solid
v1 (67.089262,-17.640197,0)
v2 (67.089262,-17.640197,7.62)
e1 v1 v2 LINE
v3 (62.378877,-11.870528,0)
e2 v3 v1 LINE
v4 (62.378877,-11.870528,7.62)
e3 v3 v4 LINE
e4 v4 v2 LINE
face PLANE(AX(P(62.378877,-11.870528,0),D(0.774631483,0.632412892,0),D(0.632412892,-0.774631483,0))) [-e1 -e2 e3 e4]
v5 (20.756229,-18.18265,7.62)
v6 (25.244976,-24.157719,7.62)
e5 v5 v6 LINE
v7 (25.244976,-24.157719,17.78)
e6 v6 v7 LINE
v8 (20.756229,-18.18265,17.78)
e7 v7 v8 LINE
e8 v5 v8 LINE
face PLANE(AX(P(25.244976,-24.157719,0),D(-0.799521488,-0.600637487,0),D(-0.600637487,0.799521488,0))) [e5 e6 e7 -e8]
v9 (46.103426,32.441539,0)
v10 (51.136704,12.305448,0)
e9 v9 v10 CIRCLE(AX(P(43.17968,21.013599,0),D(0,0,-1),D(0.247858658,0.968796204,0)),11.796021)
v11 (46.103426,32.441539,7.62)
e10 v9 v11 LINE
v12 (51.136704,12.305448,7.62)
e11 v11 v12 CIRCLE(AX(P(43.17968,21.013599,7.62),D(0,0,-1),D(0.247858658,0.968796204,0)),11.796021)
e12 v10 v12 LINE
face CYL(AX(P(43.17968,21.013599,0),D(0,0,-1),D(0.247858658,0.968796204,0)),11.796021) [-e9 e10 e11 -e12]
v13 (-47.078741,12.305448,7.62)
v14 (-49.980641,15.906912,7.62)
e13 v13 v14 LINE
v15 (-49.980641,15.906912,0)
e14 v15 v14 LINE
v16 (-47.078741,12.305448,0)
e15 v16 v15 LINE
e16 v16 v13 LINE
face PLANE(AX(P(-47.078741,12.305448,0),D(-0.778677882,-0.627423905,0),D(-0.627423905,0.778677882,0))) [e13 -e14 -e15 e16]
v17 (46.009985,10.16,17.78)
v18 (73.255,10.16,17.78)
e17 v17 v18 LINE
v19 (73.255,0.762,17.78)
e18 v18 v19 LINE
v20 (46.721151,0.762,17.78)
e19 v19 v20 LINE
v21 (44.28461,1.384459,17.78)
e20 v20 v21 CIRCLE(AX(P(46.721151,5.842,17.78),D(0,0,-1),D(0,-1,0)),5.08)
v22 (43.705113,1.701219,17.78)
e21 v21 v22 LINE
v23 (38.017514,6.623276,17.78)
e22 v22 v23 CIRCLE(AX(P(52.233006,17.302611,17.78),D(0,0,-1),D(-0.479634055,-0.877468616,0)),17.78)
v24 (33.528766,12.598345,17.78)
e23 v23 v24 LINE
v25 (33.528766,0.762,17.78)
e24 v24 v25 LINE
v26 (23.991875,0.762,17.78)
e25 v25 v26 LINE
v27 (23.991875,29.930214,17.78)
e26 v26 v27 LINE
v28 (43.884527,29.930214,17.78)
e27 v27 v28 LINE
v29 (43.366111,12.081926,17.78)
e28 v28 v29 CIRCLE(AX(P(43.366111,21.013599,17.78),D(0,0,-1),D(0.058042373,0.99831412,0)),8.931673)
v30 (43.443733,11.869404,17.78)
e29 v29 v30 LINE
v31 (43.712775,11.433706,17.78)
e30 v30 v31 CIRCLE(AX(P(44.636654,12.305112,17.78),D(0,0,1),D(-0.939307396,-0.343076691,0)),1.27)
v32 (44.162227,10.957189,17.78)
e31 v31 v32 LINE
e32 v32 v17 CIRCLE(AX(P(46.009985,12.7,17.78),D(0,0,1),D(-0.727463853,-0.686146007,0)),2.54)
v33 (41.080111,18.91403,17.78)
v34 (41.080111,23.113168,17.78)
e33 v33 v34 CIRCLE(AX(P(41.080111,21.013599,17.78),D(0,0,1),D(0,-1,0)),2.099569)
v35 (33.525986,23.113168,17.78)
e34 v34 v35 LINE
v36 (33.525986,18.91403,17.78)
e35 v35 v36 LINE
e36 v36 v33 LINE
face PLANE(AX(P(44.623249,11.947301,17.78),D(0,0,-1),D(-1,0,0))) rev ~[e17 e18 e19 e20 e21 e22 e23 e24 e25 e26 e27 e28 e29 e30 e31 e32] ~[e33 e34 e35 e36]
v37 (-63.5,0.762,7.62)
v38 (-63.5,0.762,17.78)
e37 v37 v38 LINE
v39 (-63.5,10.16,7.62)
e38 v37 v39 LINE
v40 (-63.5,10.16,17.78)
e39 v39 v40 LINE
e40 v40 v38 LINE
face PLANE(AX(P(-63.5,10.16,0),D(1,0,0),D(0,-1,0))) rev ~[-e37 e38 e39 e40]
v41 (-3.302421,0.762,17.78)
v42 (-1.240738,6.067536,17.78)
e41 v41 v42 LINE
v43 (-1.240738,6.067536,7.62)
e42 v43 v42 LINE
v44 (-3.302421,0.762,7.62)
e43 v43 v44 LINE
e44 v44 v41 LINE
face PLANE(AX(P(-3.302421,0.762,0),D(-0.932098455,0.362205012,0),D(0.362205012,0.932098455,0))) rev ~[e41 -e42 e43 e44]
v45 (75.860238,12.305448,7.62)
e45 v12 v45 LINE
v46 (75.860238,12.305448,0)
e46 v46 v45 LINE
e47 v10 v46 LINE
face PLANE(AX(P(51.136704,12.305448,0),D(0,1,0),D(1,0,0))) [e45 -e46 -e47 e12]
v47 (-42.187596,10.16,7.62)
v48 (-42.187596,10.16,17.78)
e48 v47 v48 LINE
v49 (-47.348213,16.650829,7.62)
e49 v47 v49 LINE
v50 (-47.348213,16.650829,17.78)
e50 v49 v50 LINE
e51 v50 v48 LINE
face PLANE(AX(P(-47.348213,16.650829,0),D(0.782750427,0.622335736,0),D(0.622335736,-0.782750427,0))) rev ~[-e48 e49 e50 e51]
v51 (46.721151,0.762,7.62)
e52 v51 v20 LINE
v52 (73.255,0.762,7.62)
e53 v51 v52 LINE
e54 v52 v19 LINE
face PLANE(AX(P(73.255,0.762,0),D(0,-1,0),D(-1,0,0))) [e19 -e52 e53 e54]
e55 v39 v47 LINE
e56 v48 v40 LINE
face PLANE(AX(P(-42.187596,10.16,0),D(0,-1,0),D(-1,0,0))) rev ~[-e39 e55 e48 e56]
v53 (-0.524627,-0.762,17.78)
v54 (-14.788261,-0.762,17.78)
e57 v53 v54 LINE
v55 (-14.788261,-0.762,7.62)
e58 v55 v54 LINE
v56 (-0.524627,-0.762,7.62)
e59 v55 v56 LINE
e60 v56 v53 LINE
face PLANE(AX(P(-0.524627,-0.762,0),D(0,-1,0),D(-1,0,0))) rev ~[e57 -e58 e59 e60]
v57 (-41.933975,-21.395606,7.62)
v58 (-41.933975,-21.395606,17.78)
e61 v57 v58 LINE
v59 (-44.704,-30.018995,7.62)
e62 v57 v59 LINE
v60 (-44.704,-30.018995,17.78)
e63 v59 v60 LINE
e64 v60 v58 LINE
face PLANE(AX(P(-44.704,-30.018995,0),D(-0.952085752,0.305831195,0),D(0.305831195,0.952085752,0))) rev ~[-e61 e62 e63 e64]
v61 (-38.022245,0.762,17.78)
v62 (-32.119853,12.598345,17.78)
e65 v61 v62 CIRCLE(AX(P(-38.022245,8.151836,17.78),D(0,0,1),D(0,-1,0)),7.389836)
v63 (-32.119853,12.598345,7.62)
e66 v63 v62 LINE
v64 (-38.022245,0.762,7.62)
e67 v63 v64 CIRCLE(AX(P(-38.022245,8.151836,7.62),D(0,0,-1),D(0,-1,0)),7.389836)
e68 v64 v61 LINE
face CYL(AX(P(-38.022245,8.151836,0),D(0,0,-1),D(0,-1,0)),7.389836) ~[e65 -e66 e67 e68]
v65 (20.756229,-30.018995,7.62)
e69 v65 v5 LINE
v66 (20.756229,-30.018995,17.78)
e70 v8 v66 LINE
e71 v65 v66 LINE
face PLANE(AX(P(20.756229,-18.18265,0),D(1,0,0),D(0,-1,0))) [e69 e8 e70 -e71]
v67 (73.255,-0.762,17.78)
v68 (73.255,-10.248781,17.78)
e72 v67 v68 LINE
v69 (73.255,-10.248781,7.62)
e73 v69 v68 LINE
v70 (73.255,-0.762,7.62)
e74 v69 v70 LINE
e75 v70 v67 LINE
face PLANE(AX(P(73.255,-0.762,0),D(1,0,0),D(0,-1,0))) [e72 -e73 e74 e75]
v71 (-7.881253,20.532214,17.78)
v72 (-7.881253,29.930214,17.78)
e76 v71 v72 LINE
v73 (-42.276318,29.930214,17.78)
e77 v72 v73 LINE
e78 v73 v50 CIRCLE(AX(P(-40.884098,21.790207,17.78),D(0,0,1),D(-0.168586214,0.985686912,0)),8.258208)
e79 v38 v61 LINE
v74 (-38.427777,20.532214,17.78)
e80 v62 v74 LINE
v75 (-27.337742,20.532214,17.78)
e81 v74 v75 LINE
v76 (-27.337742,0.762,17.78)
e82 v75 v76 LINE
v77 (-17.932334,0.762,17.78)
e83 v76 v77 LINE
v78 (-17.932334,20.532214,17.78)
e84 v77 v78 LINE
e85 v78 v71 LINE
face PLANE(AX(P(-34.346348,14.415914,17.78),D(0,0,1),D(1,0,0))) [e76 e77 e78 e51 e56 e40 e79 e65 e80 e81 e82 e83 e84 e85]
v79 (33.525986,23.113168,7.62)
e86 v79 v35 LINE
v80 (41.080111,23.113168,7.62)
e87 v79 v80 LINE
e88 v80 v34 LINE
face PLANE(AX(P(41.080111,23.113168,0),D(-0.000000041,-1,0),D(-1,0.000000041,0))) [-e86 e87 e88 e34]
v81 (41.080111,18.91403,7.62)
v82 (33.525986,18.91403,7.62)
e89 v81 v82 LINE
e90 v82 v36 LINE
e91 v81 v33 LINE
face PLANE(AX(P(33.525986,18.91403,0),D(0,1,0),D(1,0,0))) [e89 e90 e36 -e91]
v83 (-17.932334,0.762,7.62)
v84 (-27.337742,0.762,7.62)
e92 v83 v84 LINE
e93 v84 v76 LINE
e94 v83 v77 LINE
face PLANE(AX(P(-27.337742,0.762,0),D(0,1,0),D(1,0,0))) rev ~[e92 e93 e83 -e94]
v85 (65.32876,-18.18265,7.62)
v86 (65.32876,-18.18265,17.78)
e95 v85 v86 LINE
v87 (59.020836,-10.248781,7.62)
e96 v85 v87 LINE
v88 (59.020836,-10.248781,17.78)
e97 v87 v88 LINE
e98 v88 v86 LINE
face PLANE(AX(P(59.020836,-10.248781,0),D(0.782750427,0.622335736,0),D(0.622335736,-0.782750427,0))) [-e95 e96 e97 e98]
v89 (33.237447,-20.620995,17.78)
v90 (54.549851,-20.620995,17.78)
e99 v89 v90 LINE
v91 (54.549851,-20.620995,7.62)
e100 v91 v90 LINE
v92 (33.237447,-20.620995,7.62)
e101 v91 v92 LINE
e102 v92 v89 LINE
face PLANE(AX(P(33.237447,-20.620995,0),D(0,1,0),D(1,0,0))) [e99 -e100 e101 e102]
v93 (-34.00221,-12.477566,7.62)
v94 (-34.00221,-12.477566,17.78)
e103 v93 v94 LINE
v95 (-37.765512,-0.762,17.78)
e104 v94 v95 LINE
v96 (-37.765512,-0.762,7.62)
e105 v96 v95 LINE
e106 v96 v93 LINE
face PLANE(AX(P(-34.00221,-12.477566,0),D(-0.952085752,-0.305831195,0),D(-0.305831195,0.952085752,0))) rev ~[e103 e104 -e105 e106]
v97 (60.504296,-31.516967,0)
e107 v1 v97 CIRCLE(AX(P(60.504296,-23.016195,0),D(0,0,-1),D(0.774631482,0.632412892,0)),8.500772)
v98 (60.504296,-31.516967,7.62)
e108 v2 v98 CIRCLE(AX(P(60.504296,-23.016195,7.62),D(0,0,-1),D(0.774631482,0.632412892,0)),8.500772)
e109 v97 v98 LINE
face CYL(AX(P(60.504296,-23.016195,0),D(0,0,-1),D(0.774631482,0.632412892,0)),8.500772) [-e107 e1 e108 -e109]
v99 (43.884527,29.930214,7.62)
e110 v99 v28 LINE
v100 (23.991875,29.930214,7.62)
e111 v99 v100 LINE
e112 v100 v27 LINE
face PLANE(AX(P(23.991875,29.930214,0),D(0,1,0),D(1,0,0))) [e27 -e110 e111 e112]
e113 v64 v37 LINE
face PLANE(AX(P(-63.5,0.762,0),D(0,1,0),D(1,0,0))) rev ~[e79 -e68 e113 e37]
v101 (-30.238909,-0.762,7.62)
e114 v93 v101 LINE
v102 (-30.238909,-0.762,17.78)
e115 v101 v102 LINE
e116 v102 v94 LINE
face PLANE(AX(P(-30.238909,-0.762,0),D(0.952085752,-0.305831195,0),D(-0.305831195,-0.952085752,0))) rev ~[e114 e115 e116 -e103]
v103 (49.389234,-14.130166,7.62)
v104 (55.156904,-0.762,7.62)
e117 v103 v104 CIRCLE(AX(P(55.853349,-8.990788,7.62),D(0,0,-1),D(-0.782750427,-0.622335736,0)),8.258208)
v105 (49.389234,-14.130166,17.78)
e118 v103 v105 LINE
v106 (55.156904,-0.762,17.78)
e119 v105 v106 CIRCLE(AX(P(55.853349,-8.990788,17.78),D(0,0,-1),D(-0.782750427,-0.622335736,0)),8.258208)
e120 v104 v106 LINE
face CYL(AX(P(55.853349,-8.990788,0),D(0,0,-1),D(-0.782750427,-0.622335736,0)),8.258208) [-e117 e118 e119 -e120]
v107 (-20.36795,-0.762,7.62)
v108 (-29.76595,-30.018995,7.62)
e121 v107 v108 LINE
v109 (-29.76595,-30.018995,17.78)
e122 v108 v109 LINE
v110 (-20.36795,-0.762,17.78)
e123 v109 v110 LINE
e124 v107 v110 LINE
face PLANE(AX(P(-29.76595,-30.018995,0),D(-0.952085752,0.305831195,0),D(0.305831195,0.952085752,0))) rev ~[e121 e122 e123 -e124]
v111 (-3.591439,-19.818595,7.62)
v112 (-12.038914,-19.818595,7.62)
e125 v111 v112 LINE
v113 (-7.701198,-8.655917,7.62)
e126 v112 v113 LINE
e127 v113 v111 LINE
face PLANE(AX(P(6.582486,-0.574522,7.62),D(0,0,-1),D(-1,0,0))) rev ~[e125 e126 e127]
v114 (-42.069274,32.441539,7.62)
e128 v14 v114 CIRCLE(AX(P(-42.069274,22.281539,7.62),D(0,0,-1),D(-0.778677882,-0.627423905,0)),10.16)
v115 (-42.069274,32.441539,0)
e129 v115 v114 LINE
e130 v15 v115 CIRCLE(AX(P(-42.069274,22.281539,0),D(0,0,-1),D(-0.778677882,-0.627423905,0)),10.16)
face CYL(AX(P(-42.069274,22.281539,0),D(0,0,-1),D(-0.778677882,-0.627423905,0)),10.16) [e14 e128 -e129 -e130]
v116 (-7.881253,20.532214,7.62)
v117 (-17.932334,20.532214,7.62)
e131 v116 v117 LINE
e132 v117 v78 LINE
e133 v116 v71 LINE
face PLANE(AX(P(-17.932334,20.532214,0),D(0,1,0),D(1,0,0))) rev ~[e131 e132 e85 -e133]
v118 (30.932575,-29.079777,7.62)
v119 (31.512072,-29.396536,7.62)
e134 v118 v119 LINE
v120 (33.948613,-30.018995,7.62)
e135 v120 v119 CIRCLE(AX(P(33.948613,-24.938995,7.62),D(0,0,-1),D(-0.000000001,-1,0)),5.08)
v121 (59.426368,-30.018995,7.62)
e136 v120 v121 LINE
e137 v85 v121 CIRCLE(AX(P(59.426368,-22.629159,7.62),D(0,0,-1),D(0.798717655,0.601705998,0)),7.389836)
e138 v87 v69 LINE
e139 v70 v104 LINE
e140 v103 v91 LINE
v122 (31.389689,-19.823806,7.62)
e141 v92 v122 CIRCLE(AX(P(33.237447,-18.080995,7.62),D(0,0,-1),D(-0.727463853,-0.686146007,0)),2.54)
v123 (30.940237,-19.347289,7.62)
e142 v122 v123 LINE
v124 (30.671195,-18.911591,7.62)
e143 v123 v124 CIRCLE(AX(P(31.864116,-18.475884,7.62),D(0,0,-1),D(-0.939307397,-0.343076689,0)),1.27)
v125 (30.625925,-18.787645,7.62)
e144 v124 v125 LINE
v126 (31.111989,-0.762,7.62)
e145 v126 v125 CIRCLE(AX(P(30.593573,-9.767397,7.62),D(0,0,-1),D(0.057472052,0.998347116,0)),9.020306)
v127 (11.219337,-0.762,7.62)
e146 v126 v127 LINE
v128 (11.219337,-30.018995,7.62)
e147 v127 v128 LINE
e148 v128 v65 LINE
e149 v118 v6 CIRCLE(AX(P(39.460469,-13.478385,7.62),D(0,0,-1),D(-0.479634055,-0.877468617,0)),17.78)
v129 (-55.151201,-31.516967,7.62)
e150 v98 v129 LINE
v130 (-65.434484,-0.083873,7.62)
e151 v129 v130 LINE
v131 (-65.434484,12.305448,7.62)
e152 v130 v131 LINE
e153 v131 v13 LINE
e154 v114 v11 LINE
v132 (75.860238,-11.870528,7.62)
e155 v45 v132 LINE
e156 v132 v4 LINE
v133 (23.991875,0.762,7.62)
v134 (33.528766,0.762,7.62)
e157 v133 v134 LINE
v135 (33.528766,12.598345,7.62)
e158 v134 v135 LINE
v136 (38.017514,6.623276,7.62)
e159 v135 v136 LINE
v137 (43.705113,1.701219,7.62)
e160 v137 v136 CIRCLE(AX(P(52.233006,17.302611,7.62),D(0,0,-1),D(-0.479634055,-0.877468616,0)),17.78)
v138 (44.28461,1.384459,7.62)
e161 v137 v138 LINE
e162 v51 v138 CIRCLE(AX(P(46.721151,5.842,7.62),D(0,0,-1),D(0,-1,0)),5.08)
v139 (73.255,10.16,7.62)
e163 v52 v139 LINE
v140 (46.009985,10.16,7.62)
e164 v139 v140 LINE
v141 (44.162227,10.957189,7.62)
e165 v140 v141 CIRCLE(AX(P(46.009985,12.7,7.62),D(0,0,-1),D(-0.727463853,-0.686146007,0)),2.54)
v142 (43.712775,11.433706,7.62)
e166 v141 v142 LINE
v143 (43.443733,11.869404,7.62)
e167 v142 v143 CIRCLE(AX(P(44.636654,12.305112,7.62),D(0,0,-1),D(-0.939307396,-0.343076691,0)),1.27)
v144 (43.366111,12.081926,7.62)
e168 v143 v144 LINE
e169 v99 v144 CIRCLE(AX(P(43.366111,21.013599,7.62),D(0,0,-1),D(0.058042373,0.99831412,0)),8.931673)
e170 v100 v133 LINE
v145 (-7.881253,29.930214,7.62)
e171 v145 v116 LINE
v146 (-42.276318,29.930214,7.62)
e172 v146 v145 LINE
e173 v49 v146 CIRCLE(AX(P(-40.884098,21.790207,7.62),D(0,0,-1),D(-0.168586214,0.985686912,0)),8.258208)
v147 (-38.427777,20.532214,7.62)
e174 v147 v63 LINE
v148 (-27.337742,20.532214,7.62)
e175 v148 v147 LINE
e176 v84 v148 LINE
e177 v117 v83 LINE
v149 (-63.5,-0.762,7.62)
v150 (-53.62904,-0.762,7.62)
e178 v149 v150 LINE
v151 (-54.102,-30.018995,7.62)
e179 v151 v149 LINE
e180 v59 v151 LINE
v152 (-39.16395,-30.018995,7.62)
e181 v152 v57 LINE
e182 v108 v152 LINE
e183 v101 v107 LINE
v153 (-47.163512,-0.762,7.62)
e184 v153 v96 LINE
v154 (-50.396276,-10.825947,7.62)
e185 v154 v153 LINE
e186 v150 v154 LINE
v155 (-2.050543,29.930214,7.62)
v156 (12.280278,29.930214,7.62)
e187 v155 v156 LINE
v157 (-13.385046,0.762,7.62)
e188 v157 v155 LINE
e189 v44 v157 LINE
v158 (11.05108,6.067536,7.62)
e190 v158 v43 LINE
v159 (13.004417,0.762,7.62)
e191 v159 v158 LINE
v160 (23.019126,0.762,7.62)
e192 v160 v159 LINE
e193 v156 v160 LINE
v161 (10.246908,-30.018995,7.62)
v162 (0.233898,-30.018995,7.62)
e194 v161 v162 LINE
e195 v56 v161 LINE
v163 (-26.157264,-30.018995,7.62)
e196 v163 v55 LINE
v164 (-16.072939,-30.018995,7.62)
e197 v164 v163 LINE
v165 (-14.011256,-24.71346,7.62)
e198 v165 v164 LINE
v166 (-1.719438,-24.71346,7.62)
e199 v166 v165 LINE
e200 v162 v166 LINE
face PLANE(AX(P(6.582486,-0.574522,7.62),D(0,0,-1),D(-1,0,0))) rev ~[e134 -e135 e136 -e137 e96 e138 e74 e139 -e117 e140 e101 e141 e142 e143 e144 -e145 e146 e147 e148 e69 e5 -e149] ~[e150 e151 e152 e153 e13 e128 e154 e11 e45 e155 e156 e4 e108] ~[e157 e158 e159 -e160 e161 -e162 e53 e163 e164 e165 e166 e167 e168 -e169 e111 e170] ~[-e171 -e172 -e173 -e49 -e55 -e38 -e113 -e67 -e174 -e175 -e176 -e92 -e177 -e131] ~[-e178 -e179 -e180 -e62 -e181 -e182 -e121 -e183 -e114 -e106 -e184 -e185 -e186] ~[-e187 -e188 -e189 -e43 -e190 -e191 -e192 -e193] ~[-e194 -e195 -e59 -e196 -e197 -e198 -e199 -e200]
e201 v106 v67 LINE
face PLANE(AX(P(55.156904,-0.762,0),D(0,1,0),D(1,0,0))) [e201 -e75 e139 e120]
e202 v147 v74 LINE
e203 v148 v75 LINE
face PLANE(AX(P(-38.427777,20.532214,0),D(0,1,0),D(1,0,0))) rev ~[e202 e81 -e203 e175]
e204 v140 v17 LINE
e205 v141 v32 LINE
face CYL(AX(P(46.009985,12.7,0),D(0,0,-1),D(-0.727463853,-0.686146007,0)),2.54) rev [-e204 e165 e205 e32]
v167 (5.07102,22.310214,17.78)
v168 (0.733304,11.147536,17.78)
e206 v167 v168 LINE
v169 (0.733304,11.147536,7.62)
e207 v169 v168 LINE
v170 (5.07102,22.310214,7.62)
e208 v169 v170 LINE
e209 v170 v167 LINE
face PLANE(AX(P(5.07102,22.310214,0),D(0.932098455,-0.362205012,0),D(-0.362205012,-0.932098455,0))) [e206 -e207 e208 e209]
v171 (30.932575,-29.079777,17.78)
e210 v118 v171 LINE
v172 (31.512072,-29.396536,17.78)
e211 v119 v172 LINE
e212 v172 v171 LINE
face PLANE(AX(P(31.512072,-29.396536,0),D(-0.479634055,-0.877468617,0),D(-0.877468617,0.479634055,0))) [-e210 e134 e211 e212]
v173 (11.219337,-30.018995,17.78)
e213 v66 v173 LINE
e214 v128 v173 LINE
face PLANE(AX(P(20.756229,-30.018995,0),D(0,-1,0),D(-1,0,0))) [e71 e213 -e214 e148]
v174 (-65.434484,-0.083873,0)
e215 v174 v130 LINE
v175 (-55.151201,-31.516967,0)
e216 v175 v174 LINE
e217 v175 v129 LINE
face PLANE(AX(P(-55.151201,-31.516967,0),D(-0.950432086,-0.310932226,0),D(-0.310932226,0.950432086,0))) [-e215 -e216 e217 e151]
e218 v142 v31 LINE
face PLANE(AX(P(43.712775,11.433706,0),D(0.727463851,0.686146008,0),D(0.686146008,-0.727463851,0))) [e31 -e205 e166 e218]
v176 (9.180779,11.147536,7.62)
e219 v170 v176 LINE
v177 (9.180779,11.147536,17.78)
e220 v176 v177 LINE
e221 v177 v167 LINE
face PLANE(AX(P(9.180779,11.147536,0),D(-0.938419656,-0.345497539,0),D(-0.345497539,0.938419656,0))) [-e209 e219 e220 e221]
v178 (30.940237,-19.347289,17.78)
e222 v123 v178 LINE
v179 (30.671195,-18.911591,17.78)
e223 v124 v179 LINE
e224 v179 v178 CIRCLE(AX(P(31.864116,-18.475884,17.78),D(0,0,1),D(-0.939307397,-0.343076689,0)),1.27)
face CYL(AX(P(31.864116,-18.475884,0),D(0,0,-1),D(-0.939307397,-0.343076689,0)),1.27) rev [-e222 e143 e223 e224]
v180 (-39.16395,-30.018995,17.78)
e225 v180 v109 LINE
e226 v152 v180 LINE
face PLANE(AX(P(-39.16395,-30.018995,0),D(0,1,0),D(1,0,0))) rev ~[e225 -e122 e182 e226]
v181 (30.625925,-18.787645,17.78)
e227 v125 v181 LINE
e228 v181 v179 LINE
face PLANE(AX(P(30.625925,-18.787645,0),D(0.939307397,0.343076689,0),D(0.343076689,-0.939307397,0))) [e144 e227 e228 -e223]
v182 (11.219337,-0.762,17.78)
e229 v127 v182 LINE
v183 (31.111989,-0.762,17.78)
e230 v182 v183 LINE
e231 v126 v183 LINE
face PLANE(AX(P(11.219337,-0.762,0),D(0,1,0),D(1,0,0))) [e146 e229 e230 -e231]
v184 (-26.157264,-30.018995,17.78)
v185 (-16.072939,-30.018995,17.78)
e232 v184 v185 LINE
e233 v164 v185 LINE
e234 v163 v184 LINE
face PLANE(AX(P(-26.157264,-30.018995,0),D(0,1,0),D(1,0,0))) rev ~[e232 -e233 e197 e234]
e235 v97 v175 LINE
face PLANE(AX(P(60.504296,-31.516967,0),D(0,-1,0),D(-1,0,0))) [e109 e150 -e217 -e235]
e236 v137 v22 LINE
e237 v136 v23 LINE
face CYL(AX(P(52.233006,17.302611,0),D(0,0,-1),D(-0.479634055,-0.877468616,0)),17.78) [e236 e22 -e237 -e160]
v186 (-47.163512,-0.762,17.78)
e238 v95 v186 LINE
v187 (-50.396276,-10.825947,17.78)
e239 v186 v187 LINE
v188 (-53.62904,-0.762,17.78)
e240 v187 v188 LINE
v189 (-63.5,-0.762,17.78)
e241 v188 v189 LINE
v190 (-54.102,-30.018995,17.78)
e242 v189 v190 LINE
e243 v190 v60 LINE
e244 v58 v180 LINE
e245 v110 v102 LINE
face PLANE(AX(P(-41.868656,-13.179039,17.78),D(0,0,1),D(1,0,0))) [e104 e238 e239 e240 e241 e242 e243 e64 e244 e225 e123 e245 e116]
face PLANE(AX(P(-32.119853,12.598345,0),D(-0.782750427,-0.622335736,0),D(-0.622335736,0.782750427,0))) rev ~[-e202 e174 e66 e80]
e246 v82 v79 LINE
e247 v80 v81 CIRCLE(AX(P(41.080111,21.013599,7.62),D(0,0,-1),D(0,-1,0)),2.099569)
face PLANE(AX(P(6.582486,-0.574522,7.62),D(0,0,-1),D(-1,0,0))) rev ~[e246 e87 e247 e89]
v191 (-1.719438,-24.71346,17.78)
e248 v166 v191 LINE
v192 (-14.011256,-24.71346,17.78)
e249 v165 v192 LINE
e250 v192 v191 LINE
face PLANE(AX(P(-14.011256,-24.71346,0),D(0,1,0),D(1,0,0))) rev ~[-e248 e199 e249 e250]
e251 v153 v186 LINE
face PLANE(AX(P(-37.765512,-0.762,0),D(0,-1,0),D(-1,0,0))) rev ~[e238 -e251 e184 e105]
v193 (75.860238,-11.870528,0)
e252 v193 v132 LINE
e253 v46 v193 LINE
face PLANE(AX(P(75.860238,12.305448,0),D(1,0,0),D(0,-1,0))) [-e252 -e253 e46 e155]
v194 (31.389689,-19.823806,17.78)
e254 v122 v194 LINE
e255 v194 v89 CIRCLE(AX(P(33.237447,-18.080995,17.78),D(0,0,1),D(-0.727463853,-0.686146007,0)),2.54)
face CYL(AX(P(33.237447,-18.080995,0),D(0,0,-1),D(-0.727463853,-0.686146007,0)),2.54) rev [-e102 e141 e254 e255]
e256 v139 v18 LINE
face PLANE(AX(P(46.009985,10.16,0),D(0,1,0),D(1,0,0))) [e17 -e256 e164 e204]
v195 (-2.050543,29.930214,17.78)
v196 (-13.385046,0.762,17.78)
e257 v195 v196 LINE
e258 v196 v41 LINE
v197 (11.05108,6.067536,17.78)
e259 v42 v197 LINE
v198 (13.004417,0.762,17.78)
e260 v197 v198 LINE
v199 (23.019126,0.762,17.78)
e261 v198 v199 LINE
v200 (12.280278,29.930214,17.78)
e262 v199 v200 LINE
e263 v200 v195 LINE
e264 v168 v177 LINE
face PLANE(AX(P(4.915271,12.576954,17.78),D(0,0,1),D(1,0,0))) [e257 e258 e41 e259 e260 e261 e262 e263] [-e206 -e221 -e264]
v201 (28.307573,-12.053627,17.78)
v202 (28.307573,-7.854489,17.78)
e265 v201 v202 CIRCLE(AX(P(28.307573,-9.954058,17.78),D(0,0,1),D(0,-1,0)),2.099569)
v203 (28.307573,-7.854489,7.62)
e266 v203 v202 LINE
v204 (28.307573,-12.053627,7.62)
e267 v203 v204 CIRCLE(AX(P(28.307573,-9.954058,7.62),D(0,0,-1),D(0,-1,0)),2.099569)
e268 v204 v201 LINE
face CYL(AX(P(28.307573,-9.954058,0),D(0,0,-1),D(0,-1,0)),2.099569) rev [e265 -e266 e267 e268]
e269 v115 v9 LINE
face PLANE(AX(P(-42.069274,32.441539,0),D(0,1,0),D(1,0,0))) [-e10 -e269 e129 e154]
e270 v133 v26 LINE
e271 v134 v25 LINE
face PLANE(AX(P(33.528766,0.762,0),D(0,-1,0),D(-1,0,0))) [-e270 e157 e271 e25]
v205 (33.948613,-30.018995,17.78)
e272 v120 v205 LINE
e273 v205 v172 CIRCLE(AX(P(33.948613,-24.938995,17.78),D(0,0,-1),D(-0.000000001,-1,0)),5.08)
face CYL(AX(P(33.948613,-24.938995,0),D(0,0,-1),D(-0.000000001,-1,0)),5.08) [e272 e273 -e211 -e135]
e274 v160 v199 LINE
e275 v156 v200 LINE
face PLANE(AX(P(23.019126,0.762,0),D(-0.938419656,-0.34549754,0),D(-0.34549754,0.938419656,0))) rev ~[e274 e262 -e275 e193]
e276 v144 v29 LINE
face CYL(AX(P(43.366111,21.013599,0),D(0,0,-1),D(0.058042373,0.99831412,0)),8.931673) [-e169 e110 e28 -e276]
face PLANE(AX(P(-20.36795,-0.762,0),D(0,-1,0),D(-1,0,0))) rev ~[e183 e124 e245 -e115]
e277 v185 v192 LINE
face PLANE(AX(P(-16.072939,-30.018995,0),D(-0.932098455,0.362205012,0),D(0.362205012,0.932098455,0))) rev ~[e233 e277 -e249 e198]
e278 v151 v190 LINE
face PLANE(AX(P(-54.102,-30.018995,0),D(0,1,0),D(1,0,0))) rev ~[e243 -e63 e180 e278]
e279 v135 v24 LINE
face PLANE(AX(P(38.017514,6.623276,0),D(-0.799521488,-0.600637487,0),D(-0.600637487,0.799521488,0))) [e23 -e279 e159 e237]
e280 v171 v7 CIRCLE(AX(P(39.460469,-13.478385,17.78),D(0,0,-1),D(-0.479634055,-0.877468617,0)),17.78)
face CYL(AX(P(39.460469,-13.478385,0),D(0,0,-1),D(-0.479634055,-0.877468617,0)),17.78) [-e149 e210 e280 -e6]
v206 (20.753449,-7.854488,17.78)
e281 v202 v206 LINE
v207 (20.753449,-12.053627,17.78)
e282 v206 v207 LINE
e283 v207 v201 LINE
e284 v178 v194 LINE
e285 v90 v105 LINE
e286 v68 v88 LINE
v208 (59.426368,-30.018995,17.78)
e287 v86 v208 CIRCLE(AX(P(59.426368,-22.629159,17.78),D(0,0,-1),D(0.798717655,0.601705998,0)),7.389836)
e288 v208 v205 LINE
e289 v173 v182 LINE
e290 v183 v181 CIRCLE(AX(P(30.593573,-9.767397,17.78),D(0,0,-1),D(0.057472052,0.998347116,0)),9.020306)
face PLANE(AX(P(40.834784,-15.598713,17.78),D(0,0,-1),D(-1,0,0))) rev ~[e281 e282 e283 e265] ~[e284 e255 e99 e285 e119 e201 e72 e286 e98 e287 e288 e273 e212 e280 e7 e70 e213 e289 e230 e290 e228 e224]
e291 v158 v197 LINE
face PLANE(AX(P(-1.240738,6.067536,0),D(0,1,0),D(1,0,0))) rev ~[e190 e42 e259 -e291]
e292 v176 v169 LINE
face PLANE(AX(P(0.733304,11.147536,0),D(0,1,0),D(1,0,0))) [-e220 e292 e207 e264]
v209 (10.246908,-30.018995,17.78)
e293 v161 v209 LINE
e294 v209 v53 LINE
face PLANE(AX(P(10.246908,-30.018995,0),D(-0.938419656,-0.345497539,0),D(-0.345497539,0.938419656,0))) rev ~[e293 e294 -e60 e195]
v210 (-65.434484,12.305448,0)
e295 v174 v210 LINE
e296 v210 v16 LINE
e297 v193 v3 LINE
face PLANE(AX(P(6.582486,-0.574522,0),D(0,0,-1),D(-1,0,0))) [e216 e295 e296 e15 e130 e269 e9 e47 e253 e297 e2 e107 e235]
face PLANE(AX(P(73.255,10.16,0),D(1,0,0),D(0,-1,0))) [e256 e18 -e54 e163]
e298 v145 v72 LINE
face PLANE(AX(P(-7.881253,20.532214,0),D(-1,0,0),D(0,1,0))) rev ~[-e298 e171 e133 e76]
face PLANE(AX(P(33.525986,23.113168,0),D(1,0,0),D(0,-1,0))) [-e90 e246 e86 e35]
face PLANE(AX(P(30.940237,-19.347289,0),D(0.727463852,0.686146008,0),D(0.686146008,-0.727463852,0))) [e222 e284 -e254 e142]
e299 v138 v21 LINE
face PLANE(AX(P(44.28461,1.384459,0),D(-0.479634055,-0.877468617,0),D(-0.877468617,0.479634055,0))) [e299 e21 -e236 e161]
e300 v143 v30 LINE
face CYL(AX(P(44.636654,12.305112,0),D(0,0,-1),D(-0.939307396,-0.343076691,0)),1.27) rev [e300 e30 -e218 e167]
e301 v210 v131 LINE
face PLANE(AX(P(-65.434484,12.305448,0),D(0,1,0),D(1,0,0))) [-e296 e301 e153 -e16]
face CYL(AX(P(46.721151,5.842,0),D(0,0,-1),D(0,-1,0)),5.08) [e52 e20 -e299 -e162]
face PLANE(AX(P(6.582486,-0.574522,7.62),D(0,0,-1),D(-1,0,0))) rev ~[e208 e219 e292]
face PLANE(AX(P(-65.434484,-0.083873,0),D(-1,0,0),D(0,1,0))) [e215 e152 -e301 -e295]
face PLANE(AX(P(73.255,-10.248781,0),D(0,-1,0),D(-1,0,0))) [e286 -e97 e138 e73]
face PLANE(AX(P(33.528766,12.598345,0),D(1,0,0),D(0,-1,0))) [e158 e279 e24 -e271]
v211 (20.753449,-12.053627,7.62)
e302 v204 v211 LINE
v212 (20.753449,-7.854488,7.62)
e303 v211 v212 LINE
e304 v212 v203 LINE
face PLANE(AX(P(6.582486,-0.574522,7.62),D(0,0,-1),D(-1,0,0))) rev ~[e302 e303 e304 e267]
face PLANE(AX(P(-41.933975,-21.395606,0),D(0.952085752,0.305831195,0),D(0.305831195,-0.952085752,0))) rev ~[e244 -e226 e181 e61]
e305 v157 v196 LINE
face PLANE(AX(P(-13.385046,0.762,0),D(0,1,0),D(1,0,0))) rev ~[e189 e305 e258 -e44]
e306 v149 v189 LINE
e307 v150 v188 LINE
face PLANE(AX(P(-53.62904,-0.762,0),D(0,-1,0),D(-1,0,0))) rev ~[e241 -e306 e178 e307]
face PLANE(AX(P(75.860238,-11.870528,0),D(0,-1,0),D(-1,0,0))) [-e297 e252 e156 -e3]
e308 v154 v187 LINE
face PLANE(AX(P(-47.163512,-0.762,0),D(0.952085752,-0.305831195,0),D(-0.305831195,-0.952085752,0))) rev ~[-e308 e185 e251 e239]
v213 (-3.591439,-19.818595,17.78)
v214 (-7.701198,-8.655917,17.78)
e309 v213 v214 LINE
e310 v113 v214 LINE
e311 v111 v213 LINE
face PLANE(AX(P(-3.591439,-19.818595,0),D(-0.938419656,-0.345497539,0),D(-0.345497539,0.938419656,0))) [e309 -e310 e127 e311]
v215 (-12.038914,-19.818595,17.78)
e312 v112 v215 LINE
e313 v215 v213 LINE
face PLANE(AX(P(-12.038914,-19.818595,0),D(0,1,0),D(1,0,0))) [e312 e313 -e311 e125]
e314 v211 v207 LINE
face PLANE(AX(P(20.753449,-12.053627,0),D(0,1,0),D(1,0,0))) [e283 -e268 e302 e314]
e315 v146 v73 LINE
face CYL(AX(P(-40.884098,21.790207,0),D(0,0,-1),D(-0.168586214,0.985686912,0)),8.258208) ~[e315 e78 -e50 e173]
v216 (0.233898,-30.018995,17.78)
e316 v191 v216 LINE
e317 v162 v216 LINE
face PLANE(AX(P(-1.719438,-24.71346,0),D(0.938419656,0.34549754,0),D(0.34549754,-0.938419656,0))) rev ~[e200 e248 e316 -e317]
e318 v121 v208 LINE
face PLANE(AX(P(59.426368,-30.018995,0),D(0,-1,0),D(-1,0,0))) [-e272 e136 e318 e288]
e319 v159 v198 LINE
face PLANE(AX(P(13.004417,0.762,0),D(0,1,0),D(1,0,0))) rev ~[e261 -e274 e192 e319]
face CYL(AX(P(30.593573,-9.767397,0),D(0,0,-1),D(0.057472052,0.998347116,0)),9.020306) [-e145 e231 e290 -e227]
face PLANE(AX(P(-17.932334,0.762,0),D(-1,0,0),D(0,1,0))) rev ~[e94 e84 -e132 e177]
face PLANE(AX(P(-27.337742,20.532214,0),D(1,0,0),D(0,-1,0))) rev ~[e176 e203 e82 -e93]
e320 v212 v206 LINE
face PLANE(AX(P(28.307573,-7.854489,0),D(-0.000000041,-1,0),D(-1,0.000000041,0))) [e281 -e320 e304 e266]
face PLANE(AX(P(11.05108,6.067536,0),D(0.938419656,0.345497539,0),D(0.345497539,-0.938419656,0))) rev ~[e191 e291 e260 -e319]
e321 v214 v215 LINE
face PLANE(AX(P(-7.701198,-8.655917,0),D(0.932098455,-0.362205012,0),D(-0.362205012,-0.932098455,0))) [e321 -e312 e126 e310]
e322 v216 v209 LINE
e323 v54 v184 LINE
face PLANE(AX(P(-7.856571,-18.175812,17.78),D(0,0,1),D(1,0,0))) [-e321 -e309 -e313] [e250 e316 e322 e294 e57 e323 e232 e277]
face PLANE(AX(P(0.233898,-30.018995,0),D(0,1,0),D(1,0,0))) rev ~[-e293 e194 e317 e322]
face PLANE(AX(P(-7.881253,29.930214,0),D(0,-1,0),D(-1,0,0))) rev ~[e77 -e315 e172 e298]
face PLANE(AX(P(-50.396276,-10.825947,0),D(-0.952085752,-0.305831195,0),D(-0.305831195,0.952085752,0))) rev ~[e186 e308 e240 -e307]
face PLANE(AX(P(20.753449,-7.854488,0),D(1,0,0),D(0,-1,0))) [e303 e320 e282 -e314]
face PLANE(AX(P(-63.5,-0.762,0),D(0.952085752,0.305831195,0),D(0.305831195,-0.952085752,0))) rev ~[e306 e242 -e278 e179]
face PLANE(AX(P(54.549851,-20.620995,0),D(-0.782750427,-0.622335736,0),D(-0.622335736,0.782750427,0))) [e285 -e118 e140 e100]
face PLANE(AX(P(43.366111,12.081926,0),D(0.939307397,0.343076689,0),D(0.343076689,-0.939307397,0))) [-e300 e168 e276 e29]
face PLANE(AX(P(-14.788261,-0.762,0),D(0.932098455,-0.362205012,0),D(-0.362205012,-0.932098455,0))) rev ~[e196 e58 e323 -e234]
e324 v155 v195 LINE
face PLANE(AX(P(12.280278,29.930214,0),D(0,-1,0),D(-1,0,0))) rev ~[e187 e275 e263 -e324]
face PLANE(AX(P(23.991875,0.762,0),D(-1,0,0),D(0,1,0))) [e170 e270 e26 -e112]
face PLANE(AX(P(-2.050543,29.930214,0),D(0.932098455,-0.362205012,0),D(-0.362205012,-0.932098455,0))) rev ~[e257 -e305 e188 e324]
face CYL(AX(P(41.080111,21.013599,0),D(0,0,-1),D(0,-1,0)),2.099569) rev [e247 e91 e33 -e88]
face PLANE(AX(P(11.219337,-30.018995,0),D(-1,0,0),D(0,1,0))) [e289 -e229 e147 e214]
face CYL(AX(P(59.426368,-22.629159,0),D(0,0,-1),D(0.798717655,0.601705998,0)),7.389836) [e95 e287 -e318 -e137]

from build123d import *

# Parameters (mm, degrees)
BOSS_EXTRUDE1_DEPTH   = 17.78
BOSS_EXTRUDE1_2_DEPTH = 17.78
BOSS_EXTRUDE1_3_DEPTH = 17.78
BOSS_EXTRUDE1_4_DEPTH = 17.78
BOSS_EXTRUDE1_5_DEPTH = 17.78
BOSS_EXTRUDE1_6_DEPTH = 17.78
BOSS_EXTRUDE2_DEPTH   = 7.62


with BuildPart() as part:
    # Sketch1 → Boss-Extrude1 (new body)
    with BuildSketch(Plane.XY):
        with BuildLine():
            Line((-63.5, 10.16), (-63.5, 0.762))
            Line((-63.5, 0.762), (-38.022245391, 0.762))
            ThreePointArc((-38.022245391, 0.762), (-31.409051973, 4.854056156), (-32.119852619, 12.598345226))
            Line((-32.119852619, 12.598345226), (-38.427776706, 20.532214336))
            Line((-38.427776706, 20.532214336), (-27.33774172, 20.532214336))
            Line((-27.33774172, 20.532214336), (-27.33774172, 0.762))
            Line((-27.33774172, 0.762), (-17.932333685, 0.762))
            Line((-17.932333685, 0.762), (-17.932333685, 20.532214336))
            Line((-17.932333685, 20.532214336), (-7.881253338, 20.532214336))
            Line((-7.881253338, 20.532214336), (-7.881253338, 29.930214336))
            Line((-7.881253338, 29.930214336), (-42.276317647, 29.930214336))
            ThreePointArc((-42.276317647, 29.930214336), (-48.598760185, 24.736726392), (-47.348213221, 16.650829474))
            Line((-47.348213221, 16.650829474), (-42.18759625, 10.16))
            Line((-42.18759625, 10.16), (-63.5, 10.16))
        make_face()
    extrude(amount=BOSS_EXTRUDE1_DEPTH)



with BuildPart() as body_2:
    # Sketch1 → Boss-Extrude1 2 (new body)
    with BuildSketch(Plane.XY):
        with BuildLine():
            Line((73.255000443, 0.762), (73.255000443, 10.16))
            Line((73.255000443, 10.16), (46.009984972, 10.16))
            ThreePointArc((46.009984972, 10.16), (45.003789062, 10.367797223), (44.162226788, 10.95718914))
            Line((44.162226788, 10.95718914), (43.712774585, 11.43370613))
            ThreePointArc((43.712774585, 11.43370613), (43.556066702, 11.637854646), (43.443733283, 11.869404165))
            Line((43.443733283, 11.869404165), (43.366111034, 12.081925607))
            ThreePointArc((43.366111034, 12.081925607), (52.294019037, 20.754281762), (43.884526544, 29.930214336))
            Line((43.884526544, 29.930214336), (23.991875044, 29.930214336))
            Line((23.991875044, 29.930214336), (23.991875044, 0.762))
            Line((23.991875044, 0.762), (33.528766448, 0.762))
            Line((33.528766448, 0.762), (33.528766448, 12.598345226))
            Line((33.528766448, 12.598345226), (38.01751427, 6.623276383))
            ThreePointArc((38.01751427, 6.623276383), (40.598056426, 3.858045423), (43.705112819, 1.7012189))
            Line((43.705112819, 1.7012189), (44.28460982, 1.384459427))
            ThreePointArc((44.28460982, 1.384459427), (45.463753928, 0.920074253), (46.72115082, 0.762))
            Line((46.72115082, 0.762), (73.255000443, 0.762))
        make_face()
        with BuildLine():
            ThreePointArc((41.080111034, 23.113168002), (43.179680202, 21.013598834), (41.080111034, 18.914029667))
            Line((41.080111034, 18.914029667), (33.525986314, 18.914029667))
            Line((33.525986314, 18.914029667), (33.525986314, 23.113168314))
            Line((33.525986314, 23.113168314), (41.080111034, 23.113168002))
        make_face(mode=Mode.SUBTRACT)
    extrude(amount=BOSS_EXTRUDE1_2_DEPTH)


with BuildPart() as body_3:
    # Sketch1 → Boss-Extrude1 3 (new body)
    with BuildSketch(Plane.XY):
        Polygon((-2.050542709, 29.930214336), (-13.385046463, 0.762), (-3.302420584, 0.762), (-1.240737517, 6.067535635), (11.051079885, 6.067535635), (13.004416536, 0.762), (23.01912578, 0.762), (12.280277522, 29.930214336), align=None)
        Polygon((9.180778587, 11.147535635), (0.733304445, 11.147535635), (5.071020227, 22.310214336), align=None, mode=Mode.SUBTRACT)
    extrude(amount=BOSS_EXTRUDE1_3_DEPTH)


with BuildPart() as body_4:
    # Sketch1 → Boss-Extrude1 4 (new body)
    with BuildSketch(Plane.XY):
        with BuildLine():
            ThreePointArc((59.426367642, -30.01899549), (66.03956106, -25.926939334), (65.328760414, -18.182650263))
            Line((65.328760414, -18.182650263), (59.020836327, -10.248781153))
            Line((59.020836327, -10.248781153), (73.255000443, -10.248781153))
            Line((73.255000443, -10.248781153), (73.255000443, -0.762))
            Line((73.255000443, -0.762), (55.156904328, -0.762))
            ThreePointArc((55.156904328, -0.762), (48.27077915, -5.719302433), (49.389233963, -14.130166015))
            Line((49.389233963, -14.130166015), (54.549850935, -20.62099549))
            Line((54.549850935, -20.62099549), (33.237447184, -20.62099549))
            ThreePointArc((33.237447184, -20.62099549), (32.231251275, -20.413198267), (31.389689001, -19.82380635))
            Line((31.389689001, -19.82380635), (30.940236798, -19.347289359))
            ThreePointArc((30.940236798, -19.347289359), (30.783528915, -19.143140844), (30.671195496, -18.911591325))
            Line((30.671195496, -18.911591325), (30.625924739, -18.787644819))
            ThreePointArc((30.625924739, -18.787644819), (39.610601796, -10.010542083), (31.111988756, -0.762))
            Line((31.111988756, -0.762), (11.219337256, -0.762))
            Line((11.219337256, -0.762), (11.219337256, -30.01899549))
            Line((11.219337256, -30.01899549), (20.756228661, -30.01899549))
            Line((20.756228661, -30.01899549), (20.756228661, -18.182650263))
            Line((20.756228661, -18.182650263), (25.244976483, -24.157719107))
            ThreePointArc((25.244976483, -24.157719107), (27.825518639, -26.922950067), (30.932575032, -29.079776589))
            Line((30.932575032, -29.079776589), (31.512072033, -29.396536062))
            ThreePointArc((31.512072033, -29.396536062), (32.69121614, -29.860921236), (33.948613033, -30.01899549))
            Line((33.948613033, -30.01899549), (59.426367642, -30.01899549))
        make_face()
        with BuildLine():
            ThreePointArc((28.307573334, -7.854488563), (30.407142414, -9.954057774), (28.307573247, -12.053626898))
            Line((28.307573247, -12.053626898), (20.753448527, -12.053626898))
            Line((20.753448527, -12.053626898), (20.753448527, -7.85448825))
            Line((20.753448527, -7.85448825), (28.307573334, -7.854488563))
        make_face(mode=Mode.SUBTRACT)
    extrude(amount=BOSS_EXTRUDE1_4_DEPTH)


with BuildPart() as body_5:
    # Sketch1 → Boss-Extrude1 5 (new body)
    with BuildSketch(Plane.XY):
        Polygon((-14.788261104, -0.762), (-26.15726441, -30.01899549), (-16.072938963, -30.01899549), (-14.011255896, -24.713459854), (-1.719438494, -24.713459854), (0.233898158, -30.01899549), (10.246907832, -30.01899549), (-0.524626942, -0.762), align=None)
        Polygon((-3.591439361, -19.818595252), (-12.038913502, -19.818595252), (-7.701197721, -8.655916551), align=None, mode=Mode.SUBTRACT)
    extrude(amount=BOSS_EXTRUDE1_5_DEPTH)


with BuildPart() as body_6:
    # Sketch1 → Boss-Extrude1 6 (new body)
    with BuildSketch(Plane.XY):
        Polygon((-53.629040398, -0.762), (-63.5, -0.762), (-54.102, -30.01899549), (-44.704, -30.01899549), (-41.933974753, -21.395605814), (-39.163949505, -30.01899549), (-29.765949505, -30.01899549), (-20.367949505, -0.762), (-30.238909107, -0.762), (-34.002210372, -12.477565879), (-37.765511637, -0.762), (-47.163511637, -0.762), (-50.396276017, -10.825946893), align=None)
    extrude(amount=BOSS_EXTRUDE1_6_DEPTH)


with BuildPart() as part_1:
    add(part.part)

    add(body_2.part)  # Boss-Extrude2 merges body 2

    add(body_3.part)  # Boss-Extrude2 merges body 3

    add(body_4.part)  # Boss-Extrude2 merges body 4

    add(body_5.part)  # Boss-Extrude2 merges body 5

    add(body_6.part)  # Boss-Extrude2 merges body 6
    # Sketch2 → Boss-Extrude2 (add)
    with BuildSketch(Plane.XY):
        with BuildLine():
            Line((-55.151201275, -31.516967273), (-65.434483981, -0.083873468))
            Line((-65.434483981, -0.083873468), (-65.434483981, 12.305447779))
            Line((-65.434483981, 12.305447779), (-47.078741234, 12.305447779))
            Line((-47.078741234, 12.305447779), (-49.980640842, 15.906912471))
            ThreePointArc((-49.980640842, 15.906912471), (-51.234201523, 26.666707013), (-42.069273563, 32.441539344))
            Line((-42.069273563, 32.441539344), (46.103426171, 32.441539344))
            ThreePointArc((46.103426171, 32.441539344), (54.623601335, 23.874155401), (51.136703514, 12.305447779))
            Line((51.136703514, 12.305447779), (75.860238392, 12.305447779))
            Line((75.860238392, 12.305447779), (75.860238392, -11.870528257))
            Line((75.860238392, -11.870528257), (62.378876642, -11.870528257))
            Line((62.378876642, -11.870528257), (67.089261913, -17.64019673))
            ThreePointArc((67.089261913, -17.64019673), (68.184246101, -26.660573767), (60.504295946, -31.516967273))
            Line((60.504295946, -31.516967273), (-55.151201275, -31.516967273))
        make_face()
    extrude(amount=BOSS_EXTRUDE2_DEPTH)


solid = part_1.part
